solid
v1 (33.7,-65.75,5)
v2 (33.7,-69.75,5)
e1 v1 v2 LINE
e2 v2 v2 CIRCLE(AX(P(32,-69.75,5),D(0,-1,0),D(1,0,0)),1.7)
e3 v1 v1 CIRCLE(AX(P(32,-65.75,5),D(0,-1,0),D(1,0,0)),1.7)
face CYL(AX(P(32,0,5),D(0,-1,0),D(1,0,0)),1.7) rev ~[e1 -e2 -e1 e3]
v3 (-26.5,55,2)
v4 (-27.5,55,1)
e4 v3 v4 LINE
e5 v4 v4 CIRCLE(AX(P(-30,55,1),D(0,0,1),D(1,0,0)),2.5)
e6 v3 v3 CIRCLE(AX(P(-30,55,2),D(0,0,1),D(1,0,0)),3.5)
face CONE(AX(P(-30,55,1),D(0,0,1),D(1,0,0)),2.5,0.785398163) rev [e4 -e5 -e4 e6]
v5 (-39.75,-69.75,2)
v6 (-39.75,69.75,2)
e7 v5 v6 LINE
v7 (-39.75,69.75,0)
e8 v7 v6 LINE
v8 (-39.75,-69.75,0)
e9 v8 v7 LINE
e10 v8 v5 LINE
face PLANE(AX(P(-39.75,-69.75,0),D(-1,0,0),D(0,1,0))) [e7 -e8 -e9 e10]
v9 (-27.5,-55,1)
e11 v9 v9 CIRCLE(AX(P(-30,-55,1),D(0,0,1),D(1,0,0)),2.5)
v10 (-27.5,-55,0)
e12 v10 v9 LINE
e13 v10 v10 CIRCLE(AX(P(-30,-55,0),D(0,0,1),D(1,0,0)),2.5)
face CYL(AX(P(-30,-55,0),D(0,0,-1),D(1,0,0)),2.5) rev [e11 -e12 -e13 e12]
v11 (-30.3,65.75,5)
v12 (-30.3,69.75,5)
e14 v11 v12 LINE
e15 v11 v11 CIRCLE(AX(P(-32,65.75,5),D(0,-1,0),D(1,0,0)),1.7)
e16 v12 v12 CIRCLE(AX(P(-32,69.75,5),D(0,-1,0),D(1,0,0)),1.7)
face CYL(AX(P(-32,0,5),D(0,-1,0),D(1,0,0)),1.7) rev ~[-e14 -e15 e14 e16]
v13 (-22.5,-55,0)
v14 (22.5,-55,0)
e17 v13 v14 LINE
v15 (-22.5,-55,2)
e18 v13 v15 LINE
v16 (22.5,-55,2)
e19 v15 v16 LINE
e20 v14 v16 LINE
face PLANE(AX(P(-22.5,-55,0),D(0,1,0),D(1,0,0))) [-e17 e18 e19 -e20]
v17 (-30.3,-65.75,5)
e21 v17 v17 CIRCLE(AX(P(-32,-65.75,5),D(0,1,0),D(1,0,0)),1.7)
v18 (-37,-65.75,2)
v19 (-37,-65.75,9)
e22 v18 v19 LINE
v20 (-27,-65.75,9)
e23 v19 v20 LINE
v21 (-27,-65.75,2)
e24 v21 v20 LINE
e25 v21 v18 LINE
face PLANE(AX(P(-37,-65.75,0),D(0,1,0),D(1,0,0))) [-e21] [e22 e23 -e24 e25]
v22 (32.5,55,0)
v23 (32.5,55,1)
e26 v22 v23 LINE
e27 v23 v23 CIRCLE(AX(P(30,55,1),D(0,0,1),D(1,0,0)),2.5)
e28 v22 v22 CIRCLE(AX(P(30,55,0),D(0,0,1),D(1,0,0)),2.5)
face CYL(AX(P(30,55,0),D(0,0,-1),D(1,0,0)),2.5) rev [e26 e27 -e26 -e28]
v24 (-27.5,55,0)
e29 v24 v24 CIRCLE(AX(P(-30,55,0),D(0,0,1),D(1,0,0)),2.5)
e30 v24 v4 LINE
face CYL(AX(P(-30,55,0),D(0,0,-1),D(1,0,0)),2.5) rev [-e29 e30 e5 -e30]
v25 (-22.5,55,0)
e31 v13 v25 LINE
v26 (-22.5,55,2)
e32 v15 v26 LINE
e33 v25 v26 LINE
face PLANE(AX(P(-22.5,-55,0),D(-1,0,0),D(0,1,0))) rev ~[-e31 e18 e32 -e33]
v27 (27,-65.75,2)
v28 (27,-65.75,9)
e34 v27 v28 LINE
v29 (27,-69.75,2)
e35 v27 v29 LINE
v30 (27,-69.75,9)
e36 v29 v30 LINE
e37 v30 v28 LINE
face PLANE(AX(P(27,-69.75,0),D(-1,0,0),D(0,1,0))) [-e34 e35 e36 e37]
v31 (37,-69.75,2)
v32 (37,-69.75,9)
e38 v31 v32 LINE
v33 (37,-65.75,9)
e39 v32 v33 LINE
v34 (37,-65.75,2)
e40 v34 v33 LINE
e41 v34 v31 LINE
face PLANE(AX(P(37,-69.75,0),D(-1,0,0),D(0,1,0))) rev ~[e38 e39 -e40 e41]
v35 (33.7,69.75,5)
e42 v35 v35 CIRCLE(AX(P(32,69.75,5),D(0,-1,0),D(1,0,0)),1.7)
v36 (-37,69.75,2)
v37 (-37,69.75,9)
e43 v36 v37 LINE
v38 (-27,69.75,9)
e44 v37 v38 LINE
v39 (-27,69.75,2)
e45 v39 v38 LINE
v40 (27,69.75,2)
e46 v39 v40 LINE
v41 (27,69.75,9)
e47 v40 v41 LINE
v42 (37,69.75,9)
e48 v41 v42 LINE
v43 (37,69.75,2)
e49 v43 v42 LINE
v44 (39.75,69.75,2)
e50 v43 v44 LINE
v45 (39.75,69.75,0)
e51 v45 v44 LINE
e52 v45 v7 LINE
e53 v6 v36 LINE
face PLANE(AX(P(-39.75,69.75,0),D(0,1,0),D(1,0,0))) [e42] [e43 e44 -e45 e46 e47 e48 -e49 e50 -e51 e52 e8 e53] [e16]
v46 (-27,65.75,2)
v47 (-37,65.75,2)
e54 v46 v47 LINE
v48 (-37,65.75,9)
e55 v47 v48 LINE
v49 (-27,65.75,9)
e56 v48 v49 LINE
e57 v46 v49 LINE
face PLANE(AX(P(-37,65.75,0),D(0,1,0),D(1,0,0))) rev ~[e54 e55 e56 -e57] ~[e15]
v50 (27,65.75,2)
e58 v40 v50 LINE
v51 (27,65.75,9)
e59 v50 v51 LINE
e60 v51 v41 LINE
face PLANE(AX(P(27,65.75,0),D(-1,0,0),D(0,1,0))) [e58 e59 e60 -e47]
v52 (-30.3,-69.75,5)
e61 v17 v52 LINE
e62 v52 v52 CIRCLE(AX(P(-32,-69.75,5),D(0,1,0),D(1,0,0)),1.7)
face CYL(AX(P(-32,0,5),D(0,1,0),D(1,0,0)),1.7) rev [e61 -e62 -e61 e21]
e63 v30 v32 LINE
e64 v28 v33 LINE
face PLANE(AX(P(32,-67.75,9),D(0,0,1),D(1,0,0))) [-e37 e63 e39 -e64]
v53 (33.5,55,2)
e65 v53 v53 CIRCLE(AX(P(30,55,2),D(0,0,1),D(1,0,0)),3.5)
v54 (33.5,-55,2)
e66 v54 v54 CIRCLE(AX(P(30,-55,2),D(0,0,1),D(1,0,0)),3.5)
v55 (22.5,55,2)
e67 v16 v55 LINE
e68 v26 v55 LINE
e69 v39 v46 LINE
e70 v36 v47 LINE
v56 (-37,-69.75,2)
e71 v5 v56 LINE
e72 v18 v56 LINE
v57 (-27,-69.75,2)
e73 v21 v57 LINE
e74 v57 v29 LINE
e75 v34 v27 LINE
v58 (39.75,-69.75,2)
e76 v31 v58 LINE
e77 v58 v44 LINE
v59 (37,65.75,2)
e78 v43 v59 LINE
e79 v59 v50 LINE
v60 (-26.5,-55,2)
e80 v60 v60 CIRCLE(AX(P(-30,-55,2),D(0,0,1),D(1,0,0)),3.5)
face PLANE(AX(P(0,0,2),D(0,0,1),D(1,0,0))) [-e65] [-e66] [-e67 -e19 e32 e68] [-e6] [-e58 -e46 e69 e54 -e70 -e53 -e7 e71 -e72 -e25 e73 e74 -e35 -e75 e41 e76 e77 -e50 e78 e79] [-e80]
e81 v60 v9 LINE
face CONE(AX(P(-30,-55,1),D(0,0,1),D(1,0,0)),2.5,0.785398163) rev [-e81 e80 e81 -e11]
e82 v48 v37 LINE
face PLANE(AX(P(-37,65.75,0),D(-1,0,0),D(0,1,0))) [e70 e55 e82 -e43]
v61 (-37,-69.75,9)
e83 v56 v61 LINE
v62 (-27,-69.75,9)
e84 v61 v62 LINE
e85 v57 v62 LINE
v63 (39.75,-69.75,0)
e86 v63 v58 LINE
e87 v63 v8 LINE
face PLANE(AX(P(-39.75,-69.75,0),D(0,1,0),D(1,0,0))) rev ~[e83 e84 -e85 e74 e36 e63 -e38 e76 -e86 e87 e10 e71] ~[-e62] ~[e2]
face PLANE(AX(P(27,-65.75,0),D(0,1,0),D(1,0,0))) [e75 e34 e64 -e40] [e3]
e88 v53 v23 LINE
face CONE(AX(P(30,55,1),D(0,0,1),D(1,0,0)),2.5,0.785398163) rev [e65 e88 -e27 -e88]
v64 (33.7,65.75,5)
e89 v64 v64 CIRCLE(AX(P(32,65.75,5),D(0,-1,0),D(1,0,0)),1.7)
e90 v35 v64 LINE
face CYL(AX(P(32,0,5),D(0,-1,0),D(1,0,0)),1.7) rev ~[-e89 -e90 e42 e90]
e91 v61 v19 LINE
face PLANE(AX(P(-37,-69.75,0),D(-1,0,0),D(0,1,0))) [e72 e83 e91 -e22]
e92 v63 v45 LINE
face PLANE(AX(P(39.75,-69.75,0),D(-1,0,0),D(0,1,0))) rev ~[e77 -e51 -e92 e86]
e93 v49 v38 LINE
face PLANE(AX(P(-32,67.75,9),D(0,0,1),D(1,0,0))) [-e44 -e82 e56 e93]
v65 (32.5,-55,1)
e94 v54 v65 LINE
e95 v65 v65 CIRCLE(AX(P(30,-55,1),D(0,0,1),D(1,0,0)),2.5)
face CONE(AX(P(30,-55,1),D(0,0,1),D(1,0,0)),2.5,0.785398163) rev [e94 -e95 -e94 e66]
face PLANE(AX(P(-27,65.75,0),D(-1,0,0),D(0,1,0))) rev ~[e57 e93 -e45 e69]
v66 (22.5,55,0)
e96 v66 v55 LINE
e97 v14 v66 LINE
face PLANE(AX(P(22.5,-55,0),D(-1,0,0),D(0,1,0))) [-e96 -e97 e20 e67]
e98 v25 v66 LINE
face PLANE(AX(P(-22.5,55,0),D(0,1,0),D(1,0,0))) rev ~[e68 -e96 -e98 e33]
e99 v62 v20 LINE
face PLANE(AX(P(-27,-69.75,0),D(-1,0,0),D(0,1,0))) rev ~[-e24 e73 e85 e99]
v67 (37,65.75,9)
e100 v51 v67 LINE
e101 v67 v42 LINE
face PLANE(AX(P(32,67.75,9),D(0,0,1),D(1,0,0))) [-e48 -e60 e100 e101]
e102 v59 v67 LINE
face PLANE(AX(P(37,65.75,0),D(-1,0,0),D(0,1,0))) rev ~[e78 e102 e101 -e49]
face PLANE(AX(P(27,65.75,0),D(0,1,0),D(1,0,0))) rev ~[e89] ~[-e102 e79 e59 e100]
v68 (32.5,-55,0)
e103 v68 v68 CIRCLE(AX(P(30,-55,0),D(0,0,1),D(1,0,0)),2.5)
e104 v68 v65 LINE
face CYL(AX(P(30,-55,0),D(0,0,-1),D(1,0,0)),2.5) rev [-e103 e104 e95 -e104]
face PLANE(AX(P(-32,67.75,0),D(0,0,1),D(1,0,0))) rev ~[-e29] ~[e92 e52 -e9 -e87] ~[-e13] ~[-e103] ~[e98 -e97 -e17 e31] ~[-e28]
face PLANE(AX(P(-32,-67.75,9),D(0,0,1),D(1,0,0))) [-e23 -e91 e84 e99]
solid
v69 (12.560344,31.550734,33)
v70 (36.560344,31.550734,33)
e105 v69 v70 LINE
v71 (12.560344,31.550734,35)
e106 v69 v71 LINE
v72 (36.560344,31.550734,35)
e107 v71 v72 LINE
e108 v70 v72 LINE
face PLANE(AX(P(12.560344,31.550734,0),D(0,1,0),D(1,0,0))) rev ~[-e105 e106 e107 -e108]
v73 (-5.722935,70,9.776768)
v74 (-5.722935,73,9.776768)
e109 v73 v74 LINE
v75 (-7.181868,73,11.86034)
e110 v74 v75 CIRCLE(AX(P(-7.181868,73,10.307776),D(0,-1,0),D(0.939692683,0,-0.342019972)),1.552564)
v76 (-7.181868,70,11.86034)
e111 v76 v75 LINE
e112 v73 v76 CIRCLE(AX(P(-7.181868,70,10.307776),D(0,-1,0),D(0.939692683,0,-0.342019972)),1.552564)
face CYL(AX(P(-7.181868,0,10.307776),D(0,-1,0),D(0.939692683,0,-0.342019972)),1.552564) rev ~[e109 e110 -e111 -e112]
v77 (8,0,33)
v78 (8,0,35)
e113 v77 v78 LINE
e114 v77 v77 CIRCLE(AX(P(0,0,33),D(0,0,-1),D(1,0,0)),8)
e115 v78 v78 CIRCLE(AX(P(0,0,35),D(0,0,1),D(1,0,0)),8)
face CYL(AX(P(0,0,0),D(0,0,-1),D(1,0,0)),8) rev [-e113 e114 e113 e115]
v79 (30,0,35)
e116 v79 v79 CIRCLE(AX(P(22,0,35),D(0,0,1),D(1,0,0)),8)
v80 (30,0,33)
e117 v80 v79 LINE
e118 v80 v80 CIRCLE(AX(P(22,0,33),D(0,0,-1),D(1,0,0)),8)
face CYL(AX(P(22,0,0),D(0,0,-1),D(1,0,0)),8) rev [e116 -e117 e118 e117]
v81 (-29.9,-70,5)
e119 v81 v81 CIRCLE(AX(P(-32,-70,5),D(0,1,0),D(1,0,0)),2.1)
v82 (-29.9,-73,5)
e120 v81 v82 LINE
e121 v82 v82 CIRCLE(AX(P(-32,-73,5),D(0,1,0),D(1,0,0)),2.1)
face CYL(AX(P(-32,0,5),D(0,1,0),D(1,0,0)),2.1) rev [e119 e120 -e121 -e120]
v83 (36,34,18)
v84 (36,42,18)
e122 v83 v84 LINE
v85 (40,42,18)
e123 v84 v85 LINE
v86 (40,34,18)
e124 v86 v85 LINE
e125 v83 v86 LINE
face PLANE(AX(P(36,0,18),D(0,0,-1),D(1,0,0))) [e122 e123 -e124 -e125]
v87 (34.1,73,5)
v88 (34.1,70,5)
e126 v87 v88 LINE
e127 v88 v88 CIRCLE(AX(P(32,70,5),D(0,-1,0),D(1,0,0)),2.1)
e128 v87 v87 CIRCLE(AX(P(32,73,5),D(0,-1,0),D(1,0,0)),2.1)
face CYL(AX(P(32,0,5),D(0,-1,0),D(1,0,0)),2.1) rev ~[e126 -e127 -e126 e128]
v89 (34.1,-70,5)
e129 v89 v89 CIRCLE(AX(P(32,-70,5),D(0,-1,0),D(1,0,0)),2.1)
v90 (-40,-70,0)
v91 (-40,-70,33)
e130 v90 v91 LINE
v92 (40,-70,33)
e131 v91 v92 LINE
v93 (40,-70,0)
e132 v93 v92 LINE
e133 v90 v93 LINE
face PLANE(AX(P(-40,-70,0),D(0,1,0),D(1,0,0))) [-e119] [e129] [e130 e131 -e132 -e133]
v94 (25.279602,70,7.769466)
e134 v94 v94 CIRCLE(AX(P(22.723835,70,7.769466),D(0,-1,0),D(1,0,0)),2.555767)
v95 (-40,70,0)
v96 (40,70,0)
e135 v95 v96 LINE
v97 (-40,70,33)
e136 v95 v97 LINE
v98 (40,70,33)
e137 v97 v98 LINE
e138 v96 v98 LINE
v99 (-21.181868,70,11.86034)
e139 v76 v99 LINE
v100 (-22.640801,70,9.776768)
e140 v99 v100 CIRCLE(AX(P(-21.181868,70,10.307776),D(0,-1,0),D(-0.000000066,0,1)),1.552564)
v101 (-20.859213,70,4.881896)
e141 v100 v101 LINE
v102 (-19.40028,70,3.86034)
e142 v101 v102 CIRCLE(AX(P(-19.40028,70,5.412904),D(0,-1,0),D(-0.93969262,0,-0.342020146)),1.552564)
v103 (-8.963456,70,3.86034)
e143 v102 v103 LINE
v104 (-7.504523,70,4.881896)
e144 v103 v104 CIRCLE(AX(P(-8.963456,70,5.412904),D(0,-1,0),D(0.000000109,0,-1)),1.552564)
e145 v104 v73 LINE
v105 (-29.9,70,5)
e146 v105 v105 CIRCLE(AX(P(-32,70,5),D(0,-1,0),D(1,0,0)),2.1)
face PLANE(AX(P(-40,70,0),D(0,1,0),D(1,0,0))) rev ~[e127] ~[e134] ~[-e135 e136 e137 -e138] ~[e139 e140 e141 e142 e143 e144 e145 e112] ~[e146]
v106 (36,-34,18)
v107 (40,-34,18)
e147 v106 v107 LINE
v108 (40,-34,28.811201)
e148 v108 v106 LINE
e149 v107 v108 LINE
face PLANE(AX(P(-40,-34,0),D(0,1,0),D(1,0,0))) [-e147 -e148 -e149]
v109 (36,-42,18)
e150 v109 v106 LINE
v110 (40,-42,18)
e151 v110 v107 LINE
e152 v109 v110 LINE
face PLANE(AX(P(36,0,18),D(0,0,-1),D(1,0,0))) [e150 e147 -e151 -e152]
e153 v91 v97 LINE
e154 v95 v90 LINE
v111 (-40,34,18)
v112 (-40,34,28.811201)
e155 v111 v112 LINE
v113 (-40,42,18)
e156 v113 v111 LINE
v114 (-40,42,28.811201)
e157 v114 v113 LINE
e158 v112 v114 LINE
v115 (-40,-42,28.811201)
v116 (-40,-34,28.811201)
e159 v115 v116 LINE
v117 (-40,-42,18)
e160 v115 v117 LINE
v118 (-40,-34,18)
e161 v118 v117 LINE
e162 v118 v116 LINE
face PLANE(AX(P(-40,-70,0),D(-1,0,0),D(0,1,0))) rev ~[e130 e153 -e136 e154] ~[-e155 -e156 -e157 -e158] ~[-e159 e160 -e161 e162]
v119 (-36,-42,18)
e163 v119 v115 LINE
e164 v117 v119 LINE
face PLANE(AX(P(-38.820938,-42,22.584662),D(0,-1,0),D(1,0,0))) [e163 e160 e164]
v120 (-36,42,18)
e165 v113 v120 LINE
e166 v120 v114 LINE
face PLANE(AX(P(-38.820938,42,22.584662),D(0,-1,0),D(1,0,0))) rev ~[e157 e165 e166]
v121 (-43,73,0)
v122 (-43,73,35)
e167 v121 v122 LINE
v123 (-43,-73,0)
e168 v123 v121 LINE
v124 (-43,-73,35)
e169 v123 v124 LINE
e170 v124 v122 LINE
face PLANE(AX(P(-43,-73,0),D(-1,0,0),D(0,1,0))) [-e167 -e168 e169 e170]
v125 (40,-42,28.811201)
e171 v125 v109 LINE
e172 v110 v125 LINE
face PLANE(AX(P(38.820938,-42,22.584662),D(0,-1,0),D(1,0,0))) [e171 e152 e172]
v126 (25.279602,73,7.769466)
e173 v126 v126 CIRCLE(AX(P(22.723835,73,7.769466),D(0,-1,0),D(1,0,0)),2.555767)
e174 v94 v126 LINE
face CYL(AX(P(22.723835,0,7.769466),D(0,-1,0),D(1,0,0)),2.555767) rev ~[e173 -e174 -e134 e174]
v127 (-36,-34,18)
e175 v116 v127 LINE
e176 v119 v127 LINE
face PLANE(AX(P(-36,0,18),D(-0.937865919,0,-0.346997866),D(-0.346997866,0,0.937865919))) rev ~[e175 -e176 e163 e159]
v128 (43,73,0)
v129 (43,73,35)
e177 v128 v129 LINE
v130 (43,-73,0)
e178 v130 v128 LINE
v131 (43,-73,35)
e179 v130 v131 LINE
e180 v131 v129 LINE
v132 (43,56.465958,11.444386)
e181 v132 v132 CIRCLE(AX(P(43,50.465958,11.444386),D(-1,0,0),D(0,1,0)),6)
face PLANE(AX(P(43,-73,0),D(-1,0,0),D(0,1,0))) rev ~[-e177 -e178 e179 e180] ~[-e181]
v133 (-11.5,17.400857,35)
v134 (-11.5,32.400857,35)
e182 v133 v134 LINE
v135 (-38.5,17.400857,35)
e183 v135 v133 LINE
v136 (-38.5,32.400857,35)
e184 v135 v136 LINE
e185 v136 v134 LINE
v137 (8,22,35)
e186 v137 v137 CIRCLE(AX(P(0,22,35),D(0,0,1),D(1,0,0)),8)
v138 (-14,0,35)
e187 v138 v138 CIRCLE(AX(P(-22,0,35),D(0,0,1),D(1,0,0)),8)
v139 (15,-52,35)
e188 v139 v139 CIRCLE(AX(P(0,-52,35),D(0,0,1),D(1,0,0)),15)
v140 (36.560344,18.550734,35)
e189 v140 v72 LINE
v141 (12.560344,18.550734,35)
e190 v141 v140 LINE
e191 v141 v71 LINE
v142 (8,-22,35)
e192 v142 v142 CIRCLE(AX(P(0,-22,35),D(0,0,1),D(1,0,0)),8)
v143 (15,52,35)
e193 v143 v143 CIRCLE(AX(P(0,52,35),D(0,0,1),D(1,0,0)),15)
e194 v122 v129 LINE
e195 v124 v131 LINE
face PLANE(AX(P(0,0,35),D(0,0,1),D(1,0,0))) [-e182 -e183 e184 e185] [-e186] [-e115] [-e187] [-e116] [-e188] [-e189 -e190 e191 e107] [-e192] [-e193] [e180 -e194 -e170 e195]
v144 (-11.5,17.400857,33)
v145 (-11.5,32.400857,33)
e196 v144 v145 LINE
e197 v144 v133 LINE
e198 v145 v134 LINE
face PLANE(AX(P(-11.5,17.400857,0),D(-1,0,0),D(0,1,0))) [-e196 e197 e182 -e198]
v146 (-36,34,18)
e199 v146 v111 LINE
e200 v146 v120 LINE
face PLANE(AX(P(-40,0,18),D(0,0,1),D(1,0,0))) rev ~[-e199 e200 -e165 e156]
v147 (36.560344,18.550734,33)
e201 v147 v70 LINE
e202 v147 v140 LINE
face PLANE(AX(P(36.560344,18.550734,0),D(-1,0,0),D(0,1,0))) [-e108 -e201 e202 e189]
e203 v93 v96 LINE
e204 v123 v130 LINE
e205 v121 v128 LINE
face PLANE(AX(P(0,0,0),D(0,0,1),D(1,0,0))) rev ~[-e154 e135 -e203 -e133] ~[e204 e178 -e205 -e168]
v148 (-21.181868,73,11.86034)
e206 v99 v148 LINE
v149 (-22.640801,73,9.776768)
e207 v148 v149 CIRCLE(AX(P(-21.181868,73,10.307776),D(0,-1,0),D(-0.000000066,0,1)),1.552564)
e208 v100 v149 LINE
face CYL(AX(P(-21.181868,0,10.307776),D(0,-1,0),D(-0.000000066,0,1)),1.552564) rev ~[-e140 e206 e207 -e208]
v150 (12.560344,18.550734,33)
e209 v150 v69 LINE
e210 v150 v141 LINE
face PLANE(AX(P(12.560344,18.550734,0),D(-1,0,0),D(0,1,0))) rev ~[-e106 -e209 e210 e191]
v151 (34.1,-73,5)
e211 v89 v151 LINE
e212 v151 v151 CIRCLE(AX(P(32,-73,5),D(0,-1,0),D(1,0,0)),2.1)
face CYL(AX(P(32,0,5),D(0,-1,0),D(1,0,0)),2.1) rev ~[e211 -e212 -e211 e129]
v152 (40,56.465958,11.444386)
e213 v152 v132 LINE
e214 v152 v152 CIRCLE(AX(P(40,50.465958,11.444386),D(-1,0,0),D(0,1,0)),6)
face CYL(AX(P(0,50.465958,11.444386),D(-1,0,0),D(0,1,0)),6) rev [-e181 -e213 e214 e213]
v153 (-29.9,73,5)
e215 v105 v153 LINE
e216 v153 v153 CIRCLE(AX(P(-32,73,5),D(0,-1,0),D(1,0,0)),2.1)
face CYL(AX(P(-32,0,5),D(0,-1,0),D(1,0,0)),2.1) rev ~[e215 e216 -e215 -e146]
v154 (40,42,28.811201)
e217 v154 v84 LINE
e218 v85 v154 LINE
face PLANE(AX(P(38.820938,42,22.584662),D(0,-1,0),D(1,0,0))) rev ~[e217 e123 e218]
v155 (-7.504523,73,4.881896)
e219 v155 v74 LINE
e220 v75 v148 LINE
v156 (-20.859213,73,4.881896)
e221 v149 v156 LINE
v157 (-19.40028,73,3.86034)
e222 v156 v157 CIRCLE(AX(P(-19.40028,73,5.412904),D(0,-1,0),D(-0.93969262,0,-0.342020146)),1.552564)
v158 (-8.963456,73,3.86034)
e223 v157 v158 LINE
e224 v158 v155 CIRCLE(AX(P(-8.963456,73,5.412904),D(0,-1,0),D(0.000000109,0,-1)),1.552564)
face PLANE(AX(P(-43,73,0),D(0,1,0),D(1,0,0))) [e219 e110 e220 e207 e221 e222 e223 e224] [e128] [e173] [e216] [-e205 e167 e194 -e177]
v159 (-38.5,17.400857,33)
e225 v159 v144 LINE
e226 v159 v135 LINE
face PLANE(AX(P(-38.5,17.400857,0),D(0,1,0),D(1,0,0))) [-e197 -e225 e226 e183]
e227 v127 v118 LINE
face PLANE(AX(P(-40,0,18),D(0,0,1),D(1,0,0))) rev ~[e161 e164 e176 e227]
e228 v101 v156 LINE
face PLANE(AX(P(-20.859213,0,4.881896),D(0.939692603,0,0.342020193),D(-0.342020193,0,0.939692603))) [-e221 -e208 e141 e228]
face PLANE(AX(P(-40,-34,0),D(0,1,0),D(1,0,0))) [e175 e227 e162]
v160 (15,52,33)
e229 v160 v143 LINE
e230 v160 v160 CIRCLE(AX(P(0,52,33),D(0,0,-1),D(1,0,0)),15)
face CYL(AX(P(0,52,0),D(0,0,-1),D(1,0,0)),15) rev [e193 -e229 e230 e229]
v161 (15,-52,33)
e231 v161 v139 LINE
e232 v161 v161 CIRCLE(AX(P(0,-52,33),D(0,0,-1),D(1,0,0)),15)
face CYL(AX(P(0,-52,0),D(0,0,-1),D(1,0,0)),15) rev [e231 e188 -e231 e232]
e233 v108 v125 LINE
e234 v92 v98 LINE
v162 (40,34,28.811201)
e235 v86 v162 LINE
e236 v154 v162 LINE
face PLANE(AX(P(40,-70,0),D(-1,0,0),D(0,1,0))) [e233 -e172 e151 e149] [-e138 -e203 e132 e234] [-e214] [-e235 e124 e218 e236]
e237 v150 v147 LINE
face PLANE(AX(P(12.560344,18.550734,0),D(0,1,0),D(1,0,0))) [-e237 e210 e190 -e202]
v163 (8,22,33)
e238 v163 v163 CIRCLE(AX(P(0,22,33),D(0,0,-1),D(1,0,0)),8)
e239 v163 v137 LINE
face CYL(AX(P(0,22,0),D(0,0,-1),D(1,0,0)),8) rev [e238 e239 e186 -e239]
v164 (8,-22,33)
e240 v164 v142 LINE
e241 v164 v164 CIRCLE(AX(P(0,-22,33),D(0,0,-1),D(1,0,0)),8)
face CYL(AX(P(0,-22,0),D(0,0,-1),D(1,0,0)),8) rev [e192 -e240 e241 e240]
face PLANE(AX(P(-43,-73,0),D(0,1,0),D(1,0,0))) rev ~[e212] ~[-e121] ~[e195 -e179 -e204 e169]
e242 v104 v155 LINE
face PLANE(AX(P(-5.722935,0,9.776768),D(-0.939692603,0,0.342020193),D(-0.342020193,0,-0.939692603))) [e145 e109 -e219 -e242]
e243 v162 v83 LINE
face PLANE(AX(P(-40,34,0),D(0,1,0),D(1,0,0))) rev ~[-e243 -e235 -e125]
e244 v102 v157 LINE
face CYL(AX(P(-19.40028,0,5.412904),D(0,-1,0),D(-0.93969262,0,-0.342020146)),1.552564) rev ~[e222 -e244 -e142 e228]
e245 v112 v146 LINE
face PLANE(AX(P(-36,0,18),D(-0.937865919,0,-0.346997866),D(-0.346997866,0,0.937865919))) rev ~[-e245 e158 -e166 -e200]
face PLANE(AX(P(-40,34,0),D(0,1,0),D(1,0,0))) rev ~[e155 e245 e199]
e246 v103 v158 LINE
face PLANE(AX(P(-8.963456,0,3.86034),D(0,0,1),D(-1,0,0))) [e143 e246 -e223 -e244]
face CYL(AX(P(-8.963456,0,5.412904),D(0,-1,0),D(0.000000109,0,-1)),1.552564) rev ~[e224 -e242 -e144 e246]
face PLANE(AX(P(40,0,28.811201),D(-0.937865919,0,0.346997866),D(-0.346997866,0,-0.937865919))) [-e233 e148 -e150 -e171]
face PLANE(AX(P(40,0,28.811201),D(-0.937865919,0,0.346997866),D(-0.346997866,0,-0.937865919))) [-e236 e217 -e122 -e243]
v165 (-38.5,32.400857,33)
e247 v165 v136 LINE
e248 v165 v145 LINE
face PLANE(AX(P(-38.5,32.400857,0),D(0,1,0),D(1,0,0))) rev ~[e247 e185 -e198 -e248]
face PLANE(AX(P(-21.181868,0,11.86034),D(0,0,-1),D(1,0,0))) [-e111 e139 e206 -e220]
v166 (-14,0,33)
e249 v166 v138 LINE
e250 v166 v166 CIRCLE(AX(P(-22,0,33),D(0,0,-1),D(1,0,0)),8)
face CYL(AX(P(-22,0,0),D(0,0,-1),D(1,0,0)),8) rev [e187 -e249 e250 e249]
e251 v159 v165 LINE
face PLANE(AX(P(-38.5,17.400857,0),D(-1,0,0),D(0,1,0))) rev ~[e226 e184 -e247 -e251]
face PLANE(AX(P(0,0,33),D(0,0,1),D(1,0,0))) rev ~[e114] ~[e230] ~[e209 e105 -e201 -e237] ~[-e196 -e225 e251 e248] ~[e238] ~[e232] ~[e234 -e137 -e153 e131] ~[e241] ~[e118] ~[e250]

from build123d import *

# Parameters (mm, degrees)
SKETCH_W        = 86
SKETCH_H        = 146
SKETCH_R        = 8
SKETCH_R_2      = 15
SKETCH_W_2      = 27
SKETCH_H_2      = 15
SKETCH_W_3      = 24
SKETCH_H_3      = 13
PAD_DEPTH       = 35
SKETCH001_W     = 80
SKETCH001_H     = 140
POCKET_DEPTH    = 33
SKETCH002_W     = 78
SKETCH002_H     = 108
POCKET001_DEPTH = 25
SKETCH003_R     = 2.555767
POCKET002_DEPTH = 150
SKETCH004_R     = 2.1
POCKET003_DEPTH = 75
PAD003_DEPTH    = 42
SKETCH009_W     = 80
SKETCH009_H     = 68
POCKET005_DEPTH = 30
SKETCH010_R     = 6
POCKET006_DEPTH = 50
SKETCH005_W     = 79.5
SKETCH005_H     = 139.5
SKETCH005_R     = 2.5
SKETCH005_W_2   = 45
SKETCH005_H_2   = 110
PAD001_DEPTH    = 2
SKETCH006_W     = 10
SKETCH006_H     = 4
PAD002_DEPTH    = 9
SKETCH007_R     = 1.7
POCKET004_DEPTH = 557.5
CHAMFER_SIZE    = 1


with BuildPart() as k_rper:
    # Sketch → Pad (new body)
    with BuildSketch(Plane.XY):
        Rectangle(SKETCH_W, SKETCH_H)
        with Locations((-22, 0)):
            Circle(SKETCH_R, mode=Mode.SUBTRACT)
        with Locations((22, 0)):
            Circle(SKETCH_R, mode=Mode.SUBTRACT)
        with Locations((0, -22)):
            Circle(SKETCH_R, mode=Mode.SUBTRACT)
        with Locations((0, 22)):
            Circle(SKETCH_R, mode=Mode.SUBTRACT)
        with Locations((0, -52)):
            Circle(SKETCH_R_2, mode=Mode.SUBTRACT)
        with Locations((0, 52)):
            Circle(SKETCH_R_2, mode=Mode.SUBTRACT)
        Circle(SKETCH_R, mode=Mode.SUBTRACT)
        with Locations((-25, 24.900857)):
            Rectangle(SKETCH_W_2, SKETCH_H_2, mode=Mode.SUBTRACT)
        with Locations((24.560344, 25.050734)):
            Rectangle(SKETCH_W_3, SKETCH_H_3, mode=Mode.SUBTRACT)
    extrude(amount=PAD_DEPTH)

    # Sketch001 → Pocket (cut)
    with BuildSketch(Plane.XY):
        Rectangle(SKETCH001_W, SKETCH001_H)
    extrude(amount=POCKET_DEPTH, mode=Mode.SUBTRACT)

    # Sketch002 → Pocket001 (cut)
    with BuildSketch(Plane.XY):
        Rectangle(SKETCH002_W, SKETCH002_H)
    extrude(amount=POCKET001_DEPTH, mode=Mode.SUBTRACT)

    # Sketch003 → Pocket002 (cut)
    with BuildSketch(Plane.XZ):
        with Locations((22.723835, 7.769466)):
            Circle(SKETCH003_R)
        with BuildLine():
            Line((-21.181868, 11.86034), (-7.181868, 11.86034))
            ThreePointArc((-5.722935, 9.776768), (-5.910082, 11.19829), (-7.181868, 11.86034))
            Line((-5.722935, 9.776768), (-7.504523, 4.881896))
            ThreePointArc((-8.963456, 3.86034), (-8.072942, 4.141118), (-7.504523, 4.881896))
            Line((-8.963456, 3.86034), (-19.40028, 3.86034))
            ThreePointArc((-20.859213, 4.881896), (-20.290794, 4.141118), (-19.40028, 3.86034))
            Line((-20.859213, 4.881896), (-22.640801, 9.776768))
            ThreePointArc((-21.181868, 11.86034), (-22.453654, 11.19829), (-22.640801, 9.776768))
        make_face()
    extrude(amount=-POCKET002_DEPTH, mode=Mode.SUBTRACT)

    # Sketch004 → Pocket003 (cut, symmetric)
    with BuildSketch(Plane.XZ):
        with Locations((-32, 5)):
            Circle(SKETCH004_R)
        with Locations((32, 5)):
            Circle(SKETCH004_R)
    extrude(amount=POCKET003_DEPTH, both=True, mode=Mode.SUBTRACT)

    # Sketch008 → Pad003 (join, symmetric)
    with BuildSketch(Plane.XZ):
        Polygon((-40, 28.811201), (-40, 18), (-36, 18), align=None)
        Polygon((40, 18), (40, 28.811201), (36, 18), align=None)
    extrude(amount=PAD003_DEPTH, both=True)

    # Sketch009 → Pocket005 (cut)
    with BuildSketch(Plane.XY):
        Rectangle(SKETCH009_W, SKETCH009_H)
    extrude(amount=POCKET005_DEPTH, mode=Mode.SUBTRACT)

    # Sketch010 → Pocket006 (cut)
    with BuildSketch(Plane.YZ):
        with Locations((50.465958, 11.444386)):
            Circle(SKETCH010_R)
    extrude(amount=POCKET006_DEPTH, mode=Mode.SUBTRACT)


with BuildPart() as k_rper001:
    # Sketch005 → Pad001 (new body)
    with BuildSketch(Plane.XY):
        Rectangle(SKETCH005_W, SKETCH005_H)
        with Locations((-30, 55)):
            Circle(SKETCH005_R, mode=Mode.SUBTRACT)
        with Locations((30, 55)):
            Circle(SKETCH005_R, mode=Mode.SUBTRACT)
        with Locations((-30, -55)):
            Circle(SKETCH005_R, mode=Mode.SUBTRACT)
        with Locations((30, -55)):
            Circle(SKETCH005_R, mode=Mode.SUBTRACT)
        Rectangle(SKETCH005_W_2, SKETCH005_H_2, mode=Mode.SUBTRACT)
    extrude(amount=PAD001_DEPTH)

    # Sketch006 → Pad002 (join)
    with BuildSketch(Plane.XY):
        with Locations((-32, 67.75)):
            Rectangle(SKETCH006_W, SKETCH006_H)
        with Locations((-32, -67.75)):
            Rectangle(SKETCH006_W, SKETCH006_H)
        with Locations((32, -67.75)):
            Rectangle(SKETCH006_W, SKETCH006_H)
        with Locations((32, 67.75)):
            Rectangle(SKETCH006_W, SKETCH006_H)
    extrude(amount=PAD002_DEPTH)

    # Sketch007 → Pocket004 (cut, symmetric)
    with BuildSketch(Plane.XZ):
        with Locations((-32, 5)):
            Circle(SKETCH007_R)
        with Locations((32, 5)):
            Circle(SKETCH007_R)
    extrude(amount=POCKET004_DEPTH, both=True, mode=Mode.SUBTRACT)

    # Chamfer
    chamfer_edges = [k_rper001.edges().sort_by_distance(p)[0] for p in [
        (-32.5, -55, 2),
        (-32.5, 55, 2),
        (27.5, 55, 2),
        (27.5, -55, 2),
    ]]
    chamfer(chamfer_edges, length=CHAMFER_SIZE)


solid = Compound([k_rper.part, k_rper001.part])
